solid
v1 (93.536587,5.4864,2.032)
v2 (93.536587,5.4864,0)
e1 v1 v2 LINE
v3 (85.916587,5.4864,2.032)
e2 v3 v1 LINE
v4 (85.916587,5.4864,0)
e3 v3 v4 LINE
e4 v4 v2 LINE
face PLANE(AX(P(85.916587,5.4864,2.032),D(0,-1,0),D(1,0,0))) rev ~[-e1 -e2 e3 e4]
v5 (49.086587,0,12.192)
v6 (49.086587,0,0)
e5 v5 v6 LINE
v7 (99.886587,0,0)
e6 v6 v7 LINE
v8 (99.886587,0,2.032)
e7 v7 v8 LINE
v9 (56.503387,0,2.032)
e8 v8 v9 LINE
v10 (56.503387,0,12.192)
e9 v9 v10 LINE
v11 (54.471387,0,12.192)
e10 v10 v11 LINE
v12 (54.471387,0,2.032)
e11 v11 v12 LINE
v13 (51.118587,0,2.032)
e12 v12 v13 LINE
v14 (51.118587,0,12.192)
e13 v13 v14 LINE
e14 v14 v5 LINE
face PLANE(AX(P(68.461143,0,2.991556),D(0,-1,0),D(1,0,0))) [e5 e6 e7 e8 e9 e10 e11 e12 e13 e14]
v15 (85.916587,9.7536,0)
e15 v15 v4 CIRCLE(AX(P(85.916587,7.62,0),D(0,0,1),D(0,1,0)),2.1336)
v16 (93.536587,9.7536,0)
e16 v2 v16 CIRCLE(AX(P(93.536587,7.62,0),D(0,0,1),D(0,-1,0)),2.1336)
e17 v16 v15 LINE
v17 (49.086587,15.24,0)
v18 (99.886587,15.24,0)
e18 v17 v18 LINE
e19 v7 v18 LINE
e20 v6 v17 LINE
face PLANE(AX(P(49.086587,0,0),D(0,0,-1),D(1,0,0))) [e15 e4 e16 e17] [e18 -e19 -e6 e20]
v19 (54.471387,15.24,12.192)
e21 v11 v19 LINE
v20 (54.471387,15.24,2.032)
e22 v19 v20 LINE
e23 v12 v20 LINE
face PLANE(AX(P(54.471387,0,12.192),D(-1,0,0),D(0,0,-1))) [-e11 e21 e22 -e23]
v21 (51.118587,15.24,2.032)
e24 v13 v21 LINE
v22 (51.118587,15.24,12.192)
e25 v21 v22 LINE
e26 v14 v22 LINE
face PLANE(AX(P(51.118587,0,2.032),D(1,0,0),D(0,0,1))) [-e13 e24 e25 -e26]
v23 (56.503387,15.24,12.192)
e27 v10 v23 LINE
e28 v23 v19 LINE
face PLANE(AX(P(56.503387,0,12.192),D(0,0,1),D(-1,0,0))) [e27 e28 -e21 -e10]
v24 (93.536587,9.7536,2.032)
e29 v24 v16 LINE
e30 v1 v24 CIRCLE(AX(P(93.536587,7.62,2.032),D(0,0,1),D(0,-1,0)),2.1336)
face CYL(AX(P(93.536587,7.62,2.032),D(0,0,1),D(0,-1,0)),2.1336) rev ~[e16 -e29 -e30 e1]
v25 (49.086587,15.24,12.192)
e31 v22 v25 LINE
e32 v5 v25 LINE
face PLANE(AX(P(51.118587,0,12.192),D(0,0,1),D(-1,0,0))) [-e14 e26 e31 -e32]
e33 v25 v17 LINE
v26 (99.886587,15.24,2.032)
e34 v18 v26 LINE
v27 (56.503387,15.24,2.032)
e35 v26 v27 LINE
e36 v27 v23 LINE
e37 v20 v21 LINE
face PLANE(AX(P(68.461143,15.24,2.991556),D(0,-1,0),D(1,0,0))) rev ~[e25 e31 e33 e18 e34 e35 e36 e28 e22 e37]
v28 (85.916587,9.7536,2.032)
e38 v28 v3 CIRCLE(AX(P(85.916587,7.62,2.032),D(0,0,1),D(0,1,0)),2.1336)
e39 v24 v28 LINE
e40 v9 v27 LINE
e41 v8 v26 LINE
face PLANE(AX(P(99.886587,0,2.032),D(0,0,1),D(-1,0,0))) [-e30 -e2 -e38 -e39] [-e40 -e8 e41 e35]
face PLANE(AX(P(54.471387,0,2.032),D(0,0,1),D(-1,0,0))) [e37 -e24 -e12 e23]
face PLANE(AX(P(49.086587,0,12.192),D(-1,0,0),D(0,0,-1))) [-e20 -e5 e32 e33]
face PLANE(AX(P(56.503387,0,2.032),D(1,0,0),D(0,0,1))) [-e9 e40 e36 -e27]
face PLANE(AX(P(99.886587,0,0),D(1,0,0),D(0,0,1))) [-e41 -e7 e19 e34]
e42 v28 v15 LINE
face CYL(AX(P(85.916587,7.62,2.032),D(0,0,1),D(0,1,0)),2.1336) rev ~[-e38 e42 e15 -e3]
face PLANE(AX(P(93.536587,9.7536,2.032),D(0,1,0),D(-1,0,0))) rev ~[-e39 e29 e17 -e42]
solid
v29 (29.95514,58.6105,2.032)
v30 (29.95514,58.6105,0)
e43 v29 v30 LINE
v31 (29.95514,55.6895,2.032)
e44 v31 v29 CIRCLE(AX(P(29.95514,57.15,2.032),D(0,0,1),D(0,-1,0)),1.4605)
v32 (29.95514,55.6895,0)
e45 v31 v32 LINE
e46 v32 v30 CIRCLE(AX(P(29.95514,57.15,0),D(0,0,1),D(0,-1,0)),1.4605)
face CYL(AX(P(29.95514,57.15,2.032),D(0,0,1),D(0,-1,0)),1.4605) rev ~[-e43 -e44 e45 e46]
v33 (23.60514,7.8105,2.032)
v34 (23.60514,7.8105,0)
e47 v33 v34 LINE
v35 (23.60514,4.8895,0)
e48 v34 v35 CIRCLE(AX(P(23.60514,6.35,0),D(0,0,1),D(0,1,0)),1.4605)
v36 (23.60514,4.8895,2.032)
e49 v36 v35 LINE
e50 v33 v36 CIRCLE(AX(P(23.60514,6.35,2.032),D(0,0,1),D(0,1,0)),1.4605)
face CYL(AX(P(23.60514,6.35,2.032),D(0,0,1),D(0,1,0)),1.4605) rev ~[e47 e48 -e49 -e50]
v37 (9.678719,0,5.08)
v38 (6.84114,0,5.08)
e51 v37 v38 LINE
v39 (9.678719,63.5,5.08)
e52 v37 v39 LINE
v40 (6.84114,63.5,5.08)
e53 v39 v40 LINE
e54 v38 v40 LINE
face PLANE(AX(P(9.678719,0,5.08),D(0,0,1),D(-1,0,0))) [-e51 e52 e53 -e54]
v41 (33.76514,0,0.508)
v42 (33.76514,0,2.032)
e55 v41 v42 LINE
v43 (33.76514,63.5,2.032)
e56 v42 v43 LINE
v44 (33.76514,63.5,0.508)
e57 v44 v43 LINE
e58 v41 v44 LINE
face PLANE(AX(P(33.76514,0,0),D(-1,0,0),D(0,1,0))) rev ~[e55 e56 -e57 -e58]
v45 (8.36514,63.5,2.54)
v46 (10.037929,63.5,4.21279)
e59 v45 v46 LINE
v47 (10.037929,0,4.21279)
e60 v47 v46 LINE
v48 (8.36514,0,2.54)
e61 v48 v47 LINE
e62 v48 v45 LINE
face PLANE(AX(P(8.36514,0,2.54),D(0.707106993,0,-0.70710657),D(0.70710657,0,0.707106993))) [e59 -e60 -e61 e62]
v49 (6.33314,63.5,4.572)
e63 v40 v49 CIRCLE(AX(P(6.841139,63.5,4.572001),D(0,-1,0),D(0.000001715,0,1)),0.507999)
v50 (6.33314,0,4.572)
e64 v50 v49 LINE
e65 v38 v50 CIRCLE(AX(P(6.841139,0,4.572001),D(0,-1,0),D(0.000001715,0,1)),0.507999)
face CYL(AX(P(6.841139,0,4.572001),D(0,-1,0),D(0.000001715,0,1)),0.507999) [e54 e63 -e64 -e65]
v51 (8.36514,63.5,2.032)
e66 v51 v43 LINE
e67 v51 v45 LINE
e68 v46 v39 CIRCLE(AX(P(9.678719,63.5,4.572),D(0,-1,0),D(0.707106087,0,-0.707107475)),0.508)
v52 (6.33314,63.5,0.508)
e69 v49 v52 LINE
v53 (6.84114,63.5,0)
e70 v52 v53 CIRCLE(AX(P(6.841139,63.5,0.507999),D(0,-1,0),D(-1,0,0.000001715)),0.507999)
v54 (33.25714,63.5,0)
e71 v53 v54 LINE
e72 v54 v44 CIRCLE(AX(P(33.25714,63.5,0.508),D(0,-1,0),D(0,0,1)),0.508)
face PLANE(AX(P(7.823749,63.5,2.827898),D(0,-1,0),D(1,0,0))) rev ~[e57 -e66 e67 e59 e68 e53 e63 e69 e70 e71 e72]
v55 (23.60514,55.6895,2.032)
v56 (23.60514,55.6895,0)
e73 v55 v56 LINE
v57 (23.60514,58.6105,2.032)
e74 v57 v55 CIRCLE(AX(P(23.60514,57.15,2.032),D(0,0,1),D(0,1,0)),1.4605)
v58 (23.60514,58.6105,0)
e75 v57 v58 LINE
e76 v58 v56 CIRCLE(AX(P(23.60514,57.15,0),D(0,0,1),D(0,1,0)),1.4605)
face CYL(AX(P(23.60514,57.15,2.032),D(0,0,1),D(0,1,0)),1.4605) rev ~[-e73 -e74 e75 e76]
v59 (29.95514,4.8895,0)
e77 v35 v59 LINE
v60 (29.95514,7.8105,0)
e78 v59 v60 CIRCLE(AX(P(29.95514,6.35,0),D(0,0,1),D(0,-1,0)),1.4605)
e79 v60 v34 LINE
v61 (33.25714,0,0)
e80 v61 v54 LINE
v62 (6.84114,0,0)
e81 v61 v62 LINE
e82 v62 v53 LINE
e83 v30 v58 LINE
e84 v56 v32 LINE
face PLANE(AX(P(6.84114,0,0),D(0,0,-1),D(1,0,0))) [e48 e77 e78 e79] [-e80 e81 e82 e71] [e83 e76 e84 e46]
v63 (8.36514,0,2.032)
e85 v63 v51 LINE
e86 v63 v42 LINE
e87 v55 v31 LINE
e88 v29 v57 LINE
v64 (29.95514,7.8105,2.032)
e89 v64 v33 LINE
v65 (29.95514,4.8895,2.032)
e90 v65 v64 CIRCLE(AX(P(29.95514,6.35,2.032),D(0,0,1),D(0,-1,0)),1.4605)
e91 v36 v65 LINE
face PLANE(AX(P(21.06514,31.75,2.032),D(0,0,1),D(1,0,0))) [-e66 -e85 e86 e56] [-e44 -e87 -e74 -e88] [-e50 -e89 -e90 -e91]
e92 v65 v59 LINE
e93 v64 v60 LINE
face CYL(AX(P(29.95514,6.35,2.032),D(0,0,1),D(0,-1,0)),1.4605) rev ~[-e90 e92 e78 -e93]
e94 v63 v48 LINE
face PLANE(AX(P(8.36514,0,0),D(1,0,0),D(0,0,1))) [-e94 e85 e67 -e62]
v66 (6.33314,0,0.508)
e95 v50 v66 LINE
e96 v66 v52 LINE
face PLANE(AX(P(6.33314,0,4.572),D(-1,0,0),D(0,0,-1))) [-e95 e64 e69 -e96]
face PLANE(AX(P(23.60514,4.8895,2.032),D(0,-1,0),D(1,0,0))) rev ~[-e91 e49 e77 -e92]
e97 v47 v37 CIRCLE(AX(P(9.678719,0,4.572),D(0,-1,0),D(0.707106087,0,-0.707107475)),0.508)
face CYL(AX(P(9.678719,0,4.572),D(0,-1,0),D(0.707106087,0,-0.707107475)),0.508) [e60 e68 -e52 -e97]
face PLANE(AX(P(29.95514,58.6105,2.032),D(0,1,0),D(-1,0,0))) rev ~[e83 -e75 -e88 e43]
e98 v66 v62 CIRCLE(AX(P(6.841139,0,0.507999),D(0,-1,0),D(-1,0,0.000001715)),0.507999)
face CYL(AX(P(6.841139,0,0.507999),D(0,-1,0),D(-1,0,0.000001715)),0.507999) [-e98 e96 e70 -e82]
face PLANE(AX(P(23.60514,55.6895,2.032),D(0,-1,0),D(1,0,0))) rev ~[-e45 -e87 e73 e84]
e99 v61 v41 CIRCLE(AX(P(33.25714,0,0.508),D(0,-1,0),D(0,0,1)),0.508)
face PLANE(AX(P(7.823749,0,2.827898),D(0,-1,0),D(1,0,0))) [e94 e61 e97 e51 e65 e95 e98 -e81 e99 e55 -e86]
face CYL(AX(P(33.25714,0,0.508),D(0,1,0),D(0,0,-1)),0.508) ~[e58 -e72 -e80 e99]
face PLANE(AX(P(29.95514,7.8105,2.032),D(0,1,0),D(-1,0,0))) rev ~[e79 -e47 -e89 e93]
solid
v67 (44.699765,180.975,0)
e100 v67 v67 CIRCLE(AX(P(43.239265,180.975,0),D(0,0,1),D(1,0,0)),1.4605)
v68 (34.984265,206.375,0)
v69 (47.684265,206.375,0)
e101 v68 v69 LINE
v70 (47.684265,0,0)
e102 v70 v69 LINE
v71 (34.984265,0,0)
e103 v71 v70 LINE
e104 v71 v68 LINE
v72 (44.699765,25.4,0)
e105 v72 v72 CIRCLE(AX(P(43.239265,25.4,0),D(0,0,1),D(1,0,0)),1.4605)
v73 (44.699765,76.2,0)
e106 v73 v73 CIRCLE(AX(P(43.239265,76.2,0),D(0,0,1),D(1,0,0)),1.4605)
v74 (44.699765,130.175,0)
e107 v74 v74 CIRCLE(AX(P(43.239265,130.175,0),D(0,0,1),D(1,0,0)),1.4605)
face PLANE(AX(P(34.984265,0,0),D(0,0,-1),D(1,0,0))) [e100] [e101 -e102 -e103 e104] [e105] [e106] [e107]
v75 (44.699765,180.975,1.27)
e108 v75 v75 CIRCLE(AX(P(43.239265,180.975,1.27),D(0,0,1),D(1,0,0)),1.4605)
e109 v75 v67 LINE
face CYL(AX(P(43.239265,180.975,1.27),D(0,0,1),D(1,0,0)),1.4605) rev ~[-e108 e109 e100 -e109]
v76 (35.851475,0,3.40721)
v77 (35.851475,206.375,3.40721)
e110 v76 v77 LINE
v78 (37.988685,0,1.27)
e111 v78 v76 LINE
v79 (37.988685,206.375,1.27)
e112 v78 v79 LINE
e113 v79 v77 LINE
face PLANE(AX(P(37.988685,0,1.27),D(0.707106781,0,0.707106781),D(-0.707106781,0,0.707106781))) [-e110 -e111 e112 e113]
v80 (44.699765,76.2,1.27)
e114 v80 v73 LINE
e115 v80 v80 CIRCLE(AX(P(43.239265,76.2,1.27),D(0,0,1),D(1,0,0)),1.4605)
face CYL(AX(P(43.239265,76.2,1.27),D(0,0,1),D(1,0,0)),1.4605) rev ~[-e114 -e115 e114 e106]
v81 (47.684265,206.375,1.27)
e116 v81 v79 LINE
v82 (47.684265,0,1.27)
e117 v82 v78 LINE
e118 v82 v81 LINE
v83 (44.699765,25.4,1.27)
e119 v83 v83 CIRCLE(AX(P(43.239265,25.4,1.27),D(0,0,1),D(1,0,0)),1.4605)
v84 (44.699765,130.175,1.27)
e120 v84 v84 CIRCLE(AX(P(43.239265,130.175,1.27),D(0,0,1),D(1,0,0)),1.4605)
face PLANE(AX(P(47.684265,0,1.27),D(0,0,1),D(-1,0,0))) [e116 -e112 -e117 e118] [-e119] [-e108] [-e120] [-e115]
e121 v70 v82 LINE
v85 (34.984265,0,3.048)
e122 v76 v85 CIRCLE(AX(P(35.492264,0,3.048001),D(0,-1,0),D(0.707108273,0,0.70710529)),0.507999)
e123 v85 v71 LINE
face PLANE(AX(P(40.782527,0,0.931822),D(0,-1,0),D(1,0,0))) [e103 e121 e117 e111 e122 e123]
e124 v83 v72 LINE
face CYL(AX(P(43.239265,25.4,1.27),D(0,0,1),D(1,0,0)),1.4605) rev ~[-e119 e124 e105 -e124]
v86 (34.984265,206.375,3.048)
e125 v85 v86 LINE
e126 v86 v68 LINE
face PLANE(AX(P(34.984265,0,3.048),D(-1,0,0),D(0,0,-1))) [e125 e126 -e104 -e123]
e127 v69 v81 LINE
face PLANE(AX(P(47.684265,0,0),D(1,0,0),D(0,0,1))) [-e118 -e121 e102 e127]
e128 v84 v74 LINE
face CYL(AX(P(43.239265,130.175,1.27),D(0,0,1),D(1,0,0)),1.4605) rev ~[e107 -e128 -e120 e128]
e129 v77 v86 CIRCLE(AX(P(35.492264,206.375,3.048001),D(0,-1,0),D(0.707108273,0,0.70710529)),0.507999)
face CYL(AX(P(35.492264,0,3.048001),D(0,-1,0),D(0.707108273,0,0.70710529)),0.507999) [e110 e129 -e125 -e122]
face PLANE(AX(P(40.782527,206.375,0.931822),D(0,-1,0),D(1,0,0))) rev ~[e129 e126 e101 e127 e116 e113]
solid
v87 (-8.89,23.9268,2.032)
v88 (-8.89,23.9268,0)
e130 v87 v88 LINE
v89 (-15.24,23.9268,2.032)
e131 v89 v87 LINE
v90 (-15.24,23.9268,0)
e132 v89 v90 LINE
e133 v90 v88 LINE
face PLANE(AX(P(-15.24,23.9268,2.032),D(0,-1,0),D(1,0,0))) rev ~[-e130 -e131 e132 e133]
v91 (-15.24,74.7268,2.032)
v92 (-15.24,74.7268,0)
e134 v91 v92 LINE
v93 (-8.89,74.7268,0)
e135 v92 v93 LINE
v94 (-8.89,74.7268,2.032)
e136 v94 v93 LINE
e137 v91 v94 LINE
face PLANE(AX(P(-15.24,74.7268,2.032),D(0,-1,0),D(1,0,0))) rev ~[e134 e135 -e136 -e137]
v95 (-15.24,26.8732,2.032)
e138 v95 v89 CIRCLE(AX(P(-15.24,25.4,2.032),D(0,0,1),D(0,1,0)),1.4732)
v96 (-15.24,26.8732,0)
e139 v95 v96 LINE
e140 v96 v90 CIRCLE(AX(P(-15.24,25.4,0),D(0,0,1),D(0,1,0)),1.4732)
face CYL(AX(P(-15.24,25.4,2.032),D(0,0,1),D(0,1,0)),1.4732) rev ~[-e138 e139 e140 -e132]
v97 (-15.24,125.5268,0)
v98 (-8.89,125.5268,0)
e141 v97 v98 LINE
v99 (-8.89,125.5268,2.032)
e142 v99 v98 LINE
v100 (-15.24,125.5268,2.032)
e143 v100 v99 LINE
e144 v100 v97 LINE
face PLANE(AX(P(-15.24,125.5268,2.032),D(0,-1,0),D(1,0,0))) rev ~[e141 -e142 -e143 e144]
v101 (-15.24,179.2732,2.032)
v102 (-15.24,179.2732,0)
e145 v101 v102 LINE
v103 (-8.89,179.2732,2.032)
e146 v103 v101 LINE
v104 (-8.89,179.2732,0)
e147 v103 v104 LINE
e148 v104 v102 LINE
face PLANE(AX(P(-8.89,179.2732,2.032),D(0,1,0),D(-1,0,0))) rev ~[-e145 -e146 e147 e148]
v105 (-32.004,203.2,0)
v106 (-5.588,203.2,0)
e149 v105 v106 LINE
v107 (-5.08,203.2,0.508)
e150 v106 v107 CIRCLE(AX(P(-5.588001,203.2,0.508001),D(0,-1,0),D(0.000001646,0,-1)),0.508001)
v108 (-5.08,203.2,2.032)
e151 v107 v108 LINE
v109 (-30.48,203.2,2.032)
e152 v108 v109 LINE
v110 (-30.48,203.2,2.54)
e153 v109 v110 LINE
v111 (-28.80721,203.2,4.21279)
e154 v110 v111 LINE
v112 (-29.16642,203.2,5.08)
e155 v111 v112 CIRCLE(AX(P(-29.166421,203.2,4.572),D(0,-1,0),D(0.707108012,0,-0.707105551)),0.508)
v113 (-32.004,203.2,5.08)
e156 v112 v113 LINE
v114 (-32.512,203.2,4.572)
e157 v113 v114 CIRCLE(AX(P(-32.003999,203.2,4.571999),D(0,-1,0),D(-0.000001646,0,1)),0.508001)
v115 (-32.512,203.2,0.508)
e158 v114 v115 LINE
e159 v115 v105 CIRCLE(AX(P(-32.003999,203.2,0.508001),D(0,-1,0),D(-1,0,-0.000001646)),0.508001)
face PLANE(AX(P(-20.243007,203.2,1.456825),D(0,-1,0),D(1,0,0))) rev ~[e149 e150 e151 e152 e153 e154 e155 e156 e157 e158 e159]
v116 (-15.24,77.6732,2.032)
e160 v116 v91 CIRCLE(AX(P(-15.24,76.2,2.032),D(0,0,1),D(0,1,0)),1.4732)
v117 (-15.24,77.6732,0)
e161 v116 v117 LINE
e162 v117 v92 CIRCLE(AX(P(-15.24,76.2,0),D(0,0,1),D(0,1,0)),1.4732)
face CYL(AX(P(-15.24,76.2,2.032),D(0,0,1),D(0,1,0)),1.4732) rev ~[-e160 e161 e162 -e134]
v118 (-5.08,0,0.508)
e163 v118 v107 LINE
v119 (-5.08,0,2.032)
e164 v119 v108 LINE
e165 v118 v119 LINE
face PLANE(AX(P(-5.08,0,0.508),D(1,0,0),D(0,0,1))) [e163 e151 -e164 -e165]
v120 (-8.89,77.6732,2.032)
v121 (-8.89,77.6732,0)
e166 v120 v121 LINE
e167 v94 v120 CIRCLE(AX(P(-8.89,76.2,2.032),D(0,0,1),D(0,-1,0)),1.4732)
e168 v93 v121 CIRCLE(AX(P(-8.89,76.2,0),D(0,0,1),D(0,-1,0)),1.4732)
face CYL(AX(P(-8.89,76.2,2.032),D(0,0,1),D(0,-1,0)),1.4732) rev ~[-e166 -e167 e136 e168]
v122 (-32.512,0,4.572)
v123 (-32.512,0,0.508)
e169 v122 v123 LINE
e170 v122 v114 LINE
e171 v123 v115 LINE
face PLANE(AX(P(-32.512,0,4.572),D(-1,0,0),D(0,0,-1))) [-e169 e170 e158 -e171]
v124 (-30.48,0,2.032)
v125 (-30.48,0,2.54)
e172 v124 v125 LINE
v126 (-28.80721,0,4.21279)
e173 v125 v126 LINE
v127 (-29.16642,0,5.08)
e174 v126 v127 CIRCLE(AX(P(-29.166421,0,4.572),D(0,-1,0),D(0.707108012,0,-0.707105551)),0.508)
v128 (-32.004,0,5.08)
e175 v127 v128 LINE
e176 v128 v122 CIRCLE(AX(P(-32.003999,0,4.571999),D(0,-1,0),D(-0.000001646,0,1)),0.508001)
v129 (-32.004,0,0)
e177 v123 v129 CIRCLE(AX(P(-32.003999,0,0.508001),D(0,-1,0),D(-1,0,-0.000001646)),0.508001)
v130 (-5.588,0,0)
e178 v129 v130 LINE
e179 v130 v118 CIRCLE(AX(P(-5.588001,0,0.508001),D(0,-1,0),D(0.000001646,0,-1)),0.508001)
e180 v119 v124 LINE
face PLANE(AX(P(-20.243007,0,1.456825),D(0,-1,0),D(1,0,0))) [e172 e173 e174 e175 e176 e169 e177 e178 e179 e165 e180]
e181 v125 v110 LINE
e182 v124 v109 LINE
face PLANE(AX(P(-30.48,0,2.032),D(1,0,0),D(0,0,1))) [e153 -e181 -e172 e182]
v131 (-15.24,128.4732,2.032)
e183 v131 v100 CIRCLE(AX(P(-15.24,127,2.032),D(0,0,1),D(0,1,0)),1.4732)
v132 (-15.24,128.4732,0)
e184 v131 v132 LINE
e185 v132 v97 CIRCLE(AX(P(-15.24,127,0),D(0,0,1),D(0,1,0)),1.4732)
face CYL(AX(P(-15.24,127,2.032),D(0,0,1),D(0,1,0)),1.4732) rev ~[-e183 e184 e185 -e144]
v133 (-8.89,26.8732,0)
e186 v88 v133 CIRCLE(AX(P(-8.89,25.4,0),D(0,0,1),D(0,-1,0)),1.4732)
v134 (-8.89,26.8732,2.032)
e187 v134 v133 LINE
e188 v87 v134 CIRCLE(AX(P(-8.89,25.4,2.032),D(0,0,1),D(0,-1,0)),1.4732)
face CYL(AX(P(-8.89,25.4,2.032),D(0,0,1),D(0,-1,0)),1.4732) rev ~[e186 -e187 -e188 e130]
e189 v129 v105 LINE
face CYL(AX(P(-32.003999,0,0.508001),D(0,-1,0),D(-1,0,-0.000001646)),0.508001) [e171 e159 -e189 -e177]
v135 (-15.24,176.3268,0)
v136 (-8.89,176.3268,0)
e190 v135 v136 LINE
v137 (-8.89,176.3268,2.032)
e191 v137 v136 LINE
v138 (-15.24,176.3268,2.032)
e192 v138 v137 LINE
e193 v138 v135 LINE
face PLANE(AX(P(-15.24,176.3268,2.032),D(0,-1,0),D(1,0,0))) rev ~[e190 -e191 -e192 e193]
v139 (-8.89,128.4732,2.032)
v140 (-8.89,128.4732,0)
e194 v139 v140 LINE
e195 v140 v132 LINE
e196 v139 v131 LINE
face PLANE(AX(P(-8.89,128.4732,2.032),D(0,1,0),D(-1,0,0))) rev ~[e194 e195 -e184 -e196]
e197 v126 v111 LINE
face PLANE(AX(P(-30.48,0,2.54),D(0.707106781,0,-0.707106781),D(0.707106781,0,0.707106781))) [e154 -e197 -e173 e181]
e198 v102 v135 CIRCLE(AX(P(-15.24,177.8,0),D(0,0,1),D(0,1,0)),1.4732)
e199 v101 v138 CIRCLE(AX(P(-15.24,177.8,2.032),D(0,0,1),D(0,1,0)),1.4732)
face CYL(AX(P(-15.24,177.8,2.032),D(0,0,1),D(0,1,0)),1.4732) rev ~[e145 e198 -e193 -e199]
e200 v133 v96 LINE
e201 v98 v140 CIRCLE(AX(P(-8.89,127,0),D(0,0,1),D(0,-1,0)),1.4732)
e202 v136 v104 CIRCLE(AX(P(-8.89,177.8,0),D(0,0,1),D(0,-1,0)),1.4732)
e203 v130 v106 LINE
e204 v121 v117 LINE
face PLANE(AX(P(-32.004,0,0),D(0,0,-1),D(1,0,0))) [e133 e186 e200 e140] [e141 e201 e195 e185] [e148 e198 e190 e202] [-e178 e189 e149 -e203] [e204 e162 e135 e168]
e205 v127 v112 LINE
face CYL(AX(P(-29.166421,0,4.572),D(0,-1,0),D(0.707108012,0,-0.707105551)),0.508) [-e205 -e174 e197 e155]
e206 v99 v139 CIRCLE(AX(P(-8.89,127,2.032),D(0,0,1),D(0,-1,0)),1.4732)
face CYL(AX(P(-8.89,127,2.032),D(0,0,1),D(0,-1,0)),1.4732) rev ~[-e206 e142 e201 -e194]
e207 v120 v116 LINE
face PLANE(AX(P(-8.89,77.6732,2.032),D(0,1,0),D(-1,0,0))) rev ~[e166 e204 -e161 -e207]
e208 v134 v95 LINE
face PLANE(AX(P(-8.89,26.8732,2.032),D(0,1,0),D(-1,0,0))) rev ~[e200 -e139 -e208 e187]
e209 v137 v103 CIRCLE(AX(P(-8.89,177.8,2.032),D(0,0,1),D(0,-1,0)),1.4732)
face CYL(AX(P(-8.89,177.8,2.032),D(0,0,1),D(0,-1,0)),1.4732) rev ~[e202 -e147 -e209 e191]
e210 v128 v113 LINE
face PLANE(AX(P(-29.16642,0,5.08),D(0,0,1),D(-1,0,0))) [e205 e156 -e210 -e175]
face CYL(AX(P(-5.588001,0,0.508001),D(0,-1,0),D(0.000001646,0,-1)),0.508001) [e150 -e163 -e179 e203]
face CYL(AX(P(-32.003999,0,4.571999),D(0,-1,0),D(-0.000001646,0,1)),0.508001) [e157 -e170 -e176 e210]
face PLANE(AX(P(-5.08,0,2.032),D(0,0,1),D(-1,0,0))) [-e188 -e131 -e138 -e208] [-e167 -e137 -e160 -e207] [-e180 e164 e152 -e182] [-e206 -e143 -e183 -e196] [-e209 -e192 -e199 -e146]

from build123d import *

# Parameters (mm, degrees)
F0_W      = 25.4
F0_H      = 63.5
F1_DEPTH  = 2.032
F3_DEPTH  = 63.5
F4_R      = 0.508
F6_DEPTH  = 2.032
F8_DEPTH  = 206.375
F9_R      = 1.4605
F10_DEPTH = 1.27
F12_DEPTH = 15.24
F14_DEPTH = 2.032
F16_DEPTH = 203.2
F18_DEPTH = 2.032


with BuildPart() as f1:
    # F0 (on Top) → F1 (new body)
    with BuildSketch(Plane.XY):
        with Locations((21.06514, 31.75)):
            Rectangle(F0_W, F0_H)
    extrude(amount=F1_DEPTH)

    # F2 (on face) → F3 (join)
    with BuildSketch(Plane.XZ):
        with BuildLine():
            Line((6.84114, 0), (8.36514, 0))
            Line((8.36514, 0), (8.36514, 2.54))
            Line((8.36514, 2.54), (10.037929, 4.21279))
            ThreePointArc((10.037929, 4.21279), (10.14805, 4.766403), (9.678719, 5.08))
            Line((9.678719, 5.08), (6.84114, 5.08))
            ThreePointArc((6.84114, 5.08), (6.481929, 4.93121), (6.33314, 4.572))
            Line((6.33314, 4.572), (6.33314, 0.508))
            ThreePointArc((6.33314, 0.508), (6.481929, 0.14879), (6.84114, 0))
        make_face()
    extrude(amount=-F3_DEPTH)

    # F4
    f4_edges = [f1.edges().sort_by_distance(p)[0] for p in [
        (33.76514, 31.75, 0),
    ]]
    fillet(f4_edges, radius=F4_R)

    # F5 (on face) → F6 (cut, through all)
    with BuildSketch(Plane.XY.offset(2.032)):
        with BuildLine():
            Line((23.60514, 4.8895), (29.95514, 4.8895))
            ThreePointArc((29.95514, 4.8895), (31.41564, 6.35), (29.95514, 7.8105))
            Line((29.95514, 7.8105), (23.60514, 7.8105))
            ThreePointArc((23.60514, 7.8105), (22.14464, 6.35), (23.60514, 4.8895))
        make_face()
        with BuildLine():
            Line((23.60514, 55.6895), (29.95514, 55.6895))
            ThreePointArc((29.95514, 55.6895), (31.41564, 57.15), (29.95514, 58.6105))
            Line((29.95514, 58.6105), (23.60514, 58.6105))
            ThreePointArc((23.60514, 58.6105), (22.14464, 57.15), (23.60514, 55.6895))
        make_face()
    extrude(amount=-F6_DEPTH, mode=Mode.SUBTRACT)


with BuildPart() as f8:
    # F7 (on Front) → F8 (new body)
    with BuildSketch(Plane.XZ):
        with BuildLine():
            ThreePointArc((35.851475, 3.40721), (35.297861, 3.517331), (34.984265, 3.048))
            Line((34.984265, 3.048), (34.984265, 0))
            Line((34.984265, 0), (47.684265, 0))
            Line((47.684265, 0), (47.684265, 1.27))
            Line((47.684265, 1.27), (37.988685, 1.27))
            Line((37.988685, 1.27), (35.851475, 3.40721))
        make_face()
    extrude(amount=-F8_DEPTH)

    # F9 (on face) → F10 (cut, through all)
    with BuildSketch(Plane.XY.offset(1.27)):
        with Locations((43.239265, 180.975)):
            Circle(F9_R)
        with Locations((43.239265, 130.175)):
            Circle(F9_R)
        with Locations((43.239265, 76.2)):
            Circle(F9_R)
        with Locations((43.239265, 25.4)):
            Circle(F9_R)
    extrude(amount=-F10_DEPTH, mode=Mode.SUBTRACT)


with BuildPart() as f12:
    # F11 (on Front) → F12 (new body)
    with BuildSketch(Plane.XZ):
        Polygon((49.086587, 12.192), (49.086587, 0), (99.886587, 0), (99.886587, 2.032), (56.503387, 2.032), (56.503387, 12.192), (54.471387, 12.192), (54.471387, 2.032), (51.118587, 2.032), (51.118587, 12.192), align=None)
    extrude(amount=-F12_DEPTH)

    # F13 (on face) → F14 (cut, through all)
    with BuildSketch(Plane.XY.offset(2.032)):
        with BuildLine():
            Line((93.536587, 9.7536), (85.916587, 9.7536))
            ThreePointArc((85.916587, 9.7536), (83.782987, 7.62), (85.916587, 5.4864))
            Line((85.916587, 5.4864), (93.536587, 5.4864))
            ThreePointArc((93.536587, 5.4864), (95.670187, 7.62), (93.536587, 9.7536))
        make_face()
    extrude(amount=-F14_DEPTH, mode=Mode.SUBTRACT)


with BuildPart() as f16:
    # F15 (on Front) → F16 (new body)
    with BuildSketch(Plane.XZ):
        with BuildLine():
            Line((-32.004, 0), (-5.588, 0))
            ThreePointArc((-5.588, 0), (-5.22879, 0.14879), (-5.08, 0.508))
            Line((-5.08, 0.508), (-5.08, 2.032))
            Line((-5.08, 2.032), (-30.48, 2.032))
            Line((-30.48, 2.032), (-30.48, 2.54))
            Line((-30.48, 2.54), (-28.80721, 4.21279))
            ThreePointArc((-28.80721, 4.21279), (-28.69709, 4.766403), (-29.16642, 5.08))
            Line((-29.16642, 5.08), (-32.004, 5.08))
            ThreePointArc((-32.004, 5.08), (-32.36321, 4.93121), (-32.512, 4.572))
            Line((-32.512, 4.572), (-32.512, 0.508))
            ThreePointArc((-32.512, 0.508), (-32.36321, 0.14879), (-32.004, 0))
        make_face()
    extrude(amount=-F16_DEPTH)

    # F17 (on face) → F18 (cut, through all)
    with BuildSketch(Plane.XY.offset(2.032)):
        with BuildLine():
            Line((-15.24, 23.9268), (-8.89, 23.9268))
            ThreePointArc((-8.89, 23.9268), (-7.4168, 25.4), (-8.89, 26.8732))
            Line((-8.89, 26.8732), (-15.24, 26.8732))
            ThreePointArc((-15.24, 26.8732), (-16.7132, 25.4), (-15.24, 23.9268))
        make_face()
        with BuildLine():
            Line((-15.24, 74.7268), (-8.89, 74.7268))
            ThreePointArc((-8.89, 74.7268), (-7.4168, 76.2), (-8.89, 77.6732))
            Line((-8.89, 77.6732), (-15.24, 77.6732))
            ThreePointArc((-15.24, 77.6732), (-16.7132, 76.2), (-15.24, 74.7268))
        make_face()
        with BuildLine():
            Line((-15.24, 125.5268), (-8.89, 125.5268))
            ThreePointArc((-8.89, 125.5268), (-7.4168, 127), (-8.89, 128.4732))
            Line((-8.89, 128.4732), (-15.24, 128.4732))
            ThreePointArc((-15.24, 128.4732), (-16.7132, 127), (-15.24, 125.5268))
        make_face()
        with BuildLine():
            Line((-15.24, 176.3268), (-8.89, 176.3268))
            ThreePointArc((-8.89, 176.3268), (-7.4168, 177.8), (-8.89, 179.2732))
            Line((-8.89, 179.2732), (-15.24, 179.2732))
            ThreePointArc((-15.24, 179.2732), (-16.7132, 177.8), (-15.24, 176.3268))
        make_face()
    extrude(amount=-F18_DEPTH, mode=Mode.SUBTRACT)


solid = Compound([f1.part, f8.part, f12.part, f16.part])
